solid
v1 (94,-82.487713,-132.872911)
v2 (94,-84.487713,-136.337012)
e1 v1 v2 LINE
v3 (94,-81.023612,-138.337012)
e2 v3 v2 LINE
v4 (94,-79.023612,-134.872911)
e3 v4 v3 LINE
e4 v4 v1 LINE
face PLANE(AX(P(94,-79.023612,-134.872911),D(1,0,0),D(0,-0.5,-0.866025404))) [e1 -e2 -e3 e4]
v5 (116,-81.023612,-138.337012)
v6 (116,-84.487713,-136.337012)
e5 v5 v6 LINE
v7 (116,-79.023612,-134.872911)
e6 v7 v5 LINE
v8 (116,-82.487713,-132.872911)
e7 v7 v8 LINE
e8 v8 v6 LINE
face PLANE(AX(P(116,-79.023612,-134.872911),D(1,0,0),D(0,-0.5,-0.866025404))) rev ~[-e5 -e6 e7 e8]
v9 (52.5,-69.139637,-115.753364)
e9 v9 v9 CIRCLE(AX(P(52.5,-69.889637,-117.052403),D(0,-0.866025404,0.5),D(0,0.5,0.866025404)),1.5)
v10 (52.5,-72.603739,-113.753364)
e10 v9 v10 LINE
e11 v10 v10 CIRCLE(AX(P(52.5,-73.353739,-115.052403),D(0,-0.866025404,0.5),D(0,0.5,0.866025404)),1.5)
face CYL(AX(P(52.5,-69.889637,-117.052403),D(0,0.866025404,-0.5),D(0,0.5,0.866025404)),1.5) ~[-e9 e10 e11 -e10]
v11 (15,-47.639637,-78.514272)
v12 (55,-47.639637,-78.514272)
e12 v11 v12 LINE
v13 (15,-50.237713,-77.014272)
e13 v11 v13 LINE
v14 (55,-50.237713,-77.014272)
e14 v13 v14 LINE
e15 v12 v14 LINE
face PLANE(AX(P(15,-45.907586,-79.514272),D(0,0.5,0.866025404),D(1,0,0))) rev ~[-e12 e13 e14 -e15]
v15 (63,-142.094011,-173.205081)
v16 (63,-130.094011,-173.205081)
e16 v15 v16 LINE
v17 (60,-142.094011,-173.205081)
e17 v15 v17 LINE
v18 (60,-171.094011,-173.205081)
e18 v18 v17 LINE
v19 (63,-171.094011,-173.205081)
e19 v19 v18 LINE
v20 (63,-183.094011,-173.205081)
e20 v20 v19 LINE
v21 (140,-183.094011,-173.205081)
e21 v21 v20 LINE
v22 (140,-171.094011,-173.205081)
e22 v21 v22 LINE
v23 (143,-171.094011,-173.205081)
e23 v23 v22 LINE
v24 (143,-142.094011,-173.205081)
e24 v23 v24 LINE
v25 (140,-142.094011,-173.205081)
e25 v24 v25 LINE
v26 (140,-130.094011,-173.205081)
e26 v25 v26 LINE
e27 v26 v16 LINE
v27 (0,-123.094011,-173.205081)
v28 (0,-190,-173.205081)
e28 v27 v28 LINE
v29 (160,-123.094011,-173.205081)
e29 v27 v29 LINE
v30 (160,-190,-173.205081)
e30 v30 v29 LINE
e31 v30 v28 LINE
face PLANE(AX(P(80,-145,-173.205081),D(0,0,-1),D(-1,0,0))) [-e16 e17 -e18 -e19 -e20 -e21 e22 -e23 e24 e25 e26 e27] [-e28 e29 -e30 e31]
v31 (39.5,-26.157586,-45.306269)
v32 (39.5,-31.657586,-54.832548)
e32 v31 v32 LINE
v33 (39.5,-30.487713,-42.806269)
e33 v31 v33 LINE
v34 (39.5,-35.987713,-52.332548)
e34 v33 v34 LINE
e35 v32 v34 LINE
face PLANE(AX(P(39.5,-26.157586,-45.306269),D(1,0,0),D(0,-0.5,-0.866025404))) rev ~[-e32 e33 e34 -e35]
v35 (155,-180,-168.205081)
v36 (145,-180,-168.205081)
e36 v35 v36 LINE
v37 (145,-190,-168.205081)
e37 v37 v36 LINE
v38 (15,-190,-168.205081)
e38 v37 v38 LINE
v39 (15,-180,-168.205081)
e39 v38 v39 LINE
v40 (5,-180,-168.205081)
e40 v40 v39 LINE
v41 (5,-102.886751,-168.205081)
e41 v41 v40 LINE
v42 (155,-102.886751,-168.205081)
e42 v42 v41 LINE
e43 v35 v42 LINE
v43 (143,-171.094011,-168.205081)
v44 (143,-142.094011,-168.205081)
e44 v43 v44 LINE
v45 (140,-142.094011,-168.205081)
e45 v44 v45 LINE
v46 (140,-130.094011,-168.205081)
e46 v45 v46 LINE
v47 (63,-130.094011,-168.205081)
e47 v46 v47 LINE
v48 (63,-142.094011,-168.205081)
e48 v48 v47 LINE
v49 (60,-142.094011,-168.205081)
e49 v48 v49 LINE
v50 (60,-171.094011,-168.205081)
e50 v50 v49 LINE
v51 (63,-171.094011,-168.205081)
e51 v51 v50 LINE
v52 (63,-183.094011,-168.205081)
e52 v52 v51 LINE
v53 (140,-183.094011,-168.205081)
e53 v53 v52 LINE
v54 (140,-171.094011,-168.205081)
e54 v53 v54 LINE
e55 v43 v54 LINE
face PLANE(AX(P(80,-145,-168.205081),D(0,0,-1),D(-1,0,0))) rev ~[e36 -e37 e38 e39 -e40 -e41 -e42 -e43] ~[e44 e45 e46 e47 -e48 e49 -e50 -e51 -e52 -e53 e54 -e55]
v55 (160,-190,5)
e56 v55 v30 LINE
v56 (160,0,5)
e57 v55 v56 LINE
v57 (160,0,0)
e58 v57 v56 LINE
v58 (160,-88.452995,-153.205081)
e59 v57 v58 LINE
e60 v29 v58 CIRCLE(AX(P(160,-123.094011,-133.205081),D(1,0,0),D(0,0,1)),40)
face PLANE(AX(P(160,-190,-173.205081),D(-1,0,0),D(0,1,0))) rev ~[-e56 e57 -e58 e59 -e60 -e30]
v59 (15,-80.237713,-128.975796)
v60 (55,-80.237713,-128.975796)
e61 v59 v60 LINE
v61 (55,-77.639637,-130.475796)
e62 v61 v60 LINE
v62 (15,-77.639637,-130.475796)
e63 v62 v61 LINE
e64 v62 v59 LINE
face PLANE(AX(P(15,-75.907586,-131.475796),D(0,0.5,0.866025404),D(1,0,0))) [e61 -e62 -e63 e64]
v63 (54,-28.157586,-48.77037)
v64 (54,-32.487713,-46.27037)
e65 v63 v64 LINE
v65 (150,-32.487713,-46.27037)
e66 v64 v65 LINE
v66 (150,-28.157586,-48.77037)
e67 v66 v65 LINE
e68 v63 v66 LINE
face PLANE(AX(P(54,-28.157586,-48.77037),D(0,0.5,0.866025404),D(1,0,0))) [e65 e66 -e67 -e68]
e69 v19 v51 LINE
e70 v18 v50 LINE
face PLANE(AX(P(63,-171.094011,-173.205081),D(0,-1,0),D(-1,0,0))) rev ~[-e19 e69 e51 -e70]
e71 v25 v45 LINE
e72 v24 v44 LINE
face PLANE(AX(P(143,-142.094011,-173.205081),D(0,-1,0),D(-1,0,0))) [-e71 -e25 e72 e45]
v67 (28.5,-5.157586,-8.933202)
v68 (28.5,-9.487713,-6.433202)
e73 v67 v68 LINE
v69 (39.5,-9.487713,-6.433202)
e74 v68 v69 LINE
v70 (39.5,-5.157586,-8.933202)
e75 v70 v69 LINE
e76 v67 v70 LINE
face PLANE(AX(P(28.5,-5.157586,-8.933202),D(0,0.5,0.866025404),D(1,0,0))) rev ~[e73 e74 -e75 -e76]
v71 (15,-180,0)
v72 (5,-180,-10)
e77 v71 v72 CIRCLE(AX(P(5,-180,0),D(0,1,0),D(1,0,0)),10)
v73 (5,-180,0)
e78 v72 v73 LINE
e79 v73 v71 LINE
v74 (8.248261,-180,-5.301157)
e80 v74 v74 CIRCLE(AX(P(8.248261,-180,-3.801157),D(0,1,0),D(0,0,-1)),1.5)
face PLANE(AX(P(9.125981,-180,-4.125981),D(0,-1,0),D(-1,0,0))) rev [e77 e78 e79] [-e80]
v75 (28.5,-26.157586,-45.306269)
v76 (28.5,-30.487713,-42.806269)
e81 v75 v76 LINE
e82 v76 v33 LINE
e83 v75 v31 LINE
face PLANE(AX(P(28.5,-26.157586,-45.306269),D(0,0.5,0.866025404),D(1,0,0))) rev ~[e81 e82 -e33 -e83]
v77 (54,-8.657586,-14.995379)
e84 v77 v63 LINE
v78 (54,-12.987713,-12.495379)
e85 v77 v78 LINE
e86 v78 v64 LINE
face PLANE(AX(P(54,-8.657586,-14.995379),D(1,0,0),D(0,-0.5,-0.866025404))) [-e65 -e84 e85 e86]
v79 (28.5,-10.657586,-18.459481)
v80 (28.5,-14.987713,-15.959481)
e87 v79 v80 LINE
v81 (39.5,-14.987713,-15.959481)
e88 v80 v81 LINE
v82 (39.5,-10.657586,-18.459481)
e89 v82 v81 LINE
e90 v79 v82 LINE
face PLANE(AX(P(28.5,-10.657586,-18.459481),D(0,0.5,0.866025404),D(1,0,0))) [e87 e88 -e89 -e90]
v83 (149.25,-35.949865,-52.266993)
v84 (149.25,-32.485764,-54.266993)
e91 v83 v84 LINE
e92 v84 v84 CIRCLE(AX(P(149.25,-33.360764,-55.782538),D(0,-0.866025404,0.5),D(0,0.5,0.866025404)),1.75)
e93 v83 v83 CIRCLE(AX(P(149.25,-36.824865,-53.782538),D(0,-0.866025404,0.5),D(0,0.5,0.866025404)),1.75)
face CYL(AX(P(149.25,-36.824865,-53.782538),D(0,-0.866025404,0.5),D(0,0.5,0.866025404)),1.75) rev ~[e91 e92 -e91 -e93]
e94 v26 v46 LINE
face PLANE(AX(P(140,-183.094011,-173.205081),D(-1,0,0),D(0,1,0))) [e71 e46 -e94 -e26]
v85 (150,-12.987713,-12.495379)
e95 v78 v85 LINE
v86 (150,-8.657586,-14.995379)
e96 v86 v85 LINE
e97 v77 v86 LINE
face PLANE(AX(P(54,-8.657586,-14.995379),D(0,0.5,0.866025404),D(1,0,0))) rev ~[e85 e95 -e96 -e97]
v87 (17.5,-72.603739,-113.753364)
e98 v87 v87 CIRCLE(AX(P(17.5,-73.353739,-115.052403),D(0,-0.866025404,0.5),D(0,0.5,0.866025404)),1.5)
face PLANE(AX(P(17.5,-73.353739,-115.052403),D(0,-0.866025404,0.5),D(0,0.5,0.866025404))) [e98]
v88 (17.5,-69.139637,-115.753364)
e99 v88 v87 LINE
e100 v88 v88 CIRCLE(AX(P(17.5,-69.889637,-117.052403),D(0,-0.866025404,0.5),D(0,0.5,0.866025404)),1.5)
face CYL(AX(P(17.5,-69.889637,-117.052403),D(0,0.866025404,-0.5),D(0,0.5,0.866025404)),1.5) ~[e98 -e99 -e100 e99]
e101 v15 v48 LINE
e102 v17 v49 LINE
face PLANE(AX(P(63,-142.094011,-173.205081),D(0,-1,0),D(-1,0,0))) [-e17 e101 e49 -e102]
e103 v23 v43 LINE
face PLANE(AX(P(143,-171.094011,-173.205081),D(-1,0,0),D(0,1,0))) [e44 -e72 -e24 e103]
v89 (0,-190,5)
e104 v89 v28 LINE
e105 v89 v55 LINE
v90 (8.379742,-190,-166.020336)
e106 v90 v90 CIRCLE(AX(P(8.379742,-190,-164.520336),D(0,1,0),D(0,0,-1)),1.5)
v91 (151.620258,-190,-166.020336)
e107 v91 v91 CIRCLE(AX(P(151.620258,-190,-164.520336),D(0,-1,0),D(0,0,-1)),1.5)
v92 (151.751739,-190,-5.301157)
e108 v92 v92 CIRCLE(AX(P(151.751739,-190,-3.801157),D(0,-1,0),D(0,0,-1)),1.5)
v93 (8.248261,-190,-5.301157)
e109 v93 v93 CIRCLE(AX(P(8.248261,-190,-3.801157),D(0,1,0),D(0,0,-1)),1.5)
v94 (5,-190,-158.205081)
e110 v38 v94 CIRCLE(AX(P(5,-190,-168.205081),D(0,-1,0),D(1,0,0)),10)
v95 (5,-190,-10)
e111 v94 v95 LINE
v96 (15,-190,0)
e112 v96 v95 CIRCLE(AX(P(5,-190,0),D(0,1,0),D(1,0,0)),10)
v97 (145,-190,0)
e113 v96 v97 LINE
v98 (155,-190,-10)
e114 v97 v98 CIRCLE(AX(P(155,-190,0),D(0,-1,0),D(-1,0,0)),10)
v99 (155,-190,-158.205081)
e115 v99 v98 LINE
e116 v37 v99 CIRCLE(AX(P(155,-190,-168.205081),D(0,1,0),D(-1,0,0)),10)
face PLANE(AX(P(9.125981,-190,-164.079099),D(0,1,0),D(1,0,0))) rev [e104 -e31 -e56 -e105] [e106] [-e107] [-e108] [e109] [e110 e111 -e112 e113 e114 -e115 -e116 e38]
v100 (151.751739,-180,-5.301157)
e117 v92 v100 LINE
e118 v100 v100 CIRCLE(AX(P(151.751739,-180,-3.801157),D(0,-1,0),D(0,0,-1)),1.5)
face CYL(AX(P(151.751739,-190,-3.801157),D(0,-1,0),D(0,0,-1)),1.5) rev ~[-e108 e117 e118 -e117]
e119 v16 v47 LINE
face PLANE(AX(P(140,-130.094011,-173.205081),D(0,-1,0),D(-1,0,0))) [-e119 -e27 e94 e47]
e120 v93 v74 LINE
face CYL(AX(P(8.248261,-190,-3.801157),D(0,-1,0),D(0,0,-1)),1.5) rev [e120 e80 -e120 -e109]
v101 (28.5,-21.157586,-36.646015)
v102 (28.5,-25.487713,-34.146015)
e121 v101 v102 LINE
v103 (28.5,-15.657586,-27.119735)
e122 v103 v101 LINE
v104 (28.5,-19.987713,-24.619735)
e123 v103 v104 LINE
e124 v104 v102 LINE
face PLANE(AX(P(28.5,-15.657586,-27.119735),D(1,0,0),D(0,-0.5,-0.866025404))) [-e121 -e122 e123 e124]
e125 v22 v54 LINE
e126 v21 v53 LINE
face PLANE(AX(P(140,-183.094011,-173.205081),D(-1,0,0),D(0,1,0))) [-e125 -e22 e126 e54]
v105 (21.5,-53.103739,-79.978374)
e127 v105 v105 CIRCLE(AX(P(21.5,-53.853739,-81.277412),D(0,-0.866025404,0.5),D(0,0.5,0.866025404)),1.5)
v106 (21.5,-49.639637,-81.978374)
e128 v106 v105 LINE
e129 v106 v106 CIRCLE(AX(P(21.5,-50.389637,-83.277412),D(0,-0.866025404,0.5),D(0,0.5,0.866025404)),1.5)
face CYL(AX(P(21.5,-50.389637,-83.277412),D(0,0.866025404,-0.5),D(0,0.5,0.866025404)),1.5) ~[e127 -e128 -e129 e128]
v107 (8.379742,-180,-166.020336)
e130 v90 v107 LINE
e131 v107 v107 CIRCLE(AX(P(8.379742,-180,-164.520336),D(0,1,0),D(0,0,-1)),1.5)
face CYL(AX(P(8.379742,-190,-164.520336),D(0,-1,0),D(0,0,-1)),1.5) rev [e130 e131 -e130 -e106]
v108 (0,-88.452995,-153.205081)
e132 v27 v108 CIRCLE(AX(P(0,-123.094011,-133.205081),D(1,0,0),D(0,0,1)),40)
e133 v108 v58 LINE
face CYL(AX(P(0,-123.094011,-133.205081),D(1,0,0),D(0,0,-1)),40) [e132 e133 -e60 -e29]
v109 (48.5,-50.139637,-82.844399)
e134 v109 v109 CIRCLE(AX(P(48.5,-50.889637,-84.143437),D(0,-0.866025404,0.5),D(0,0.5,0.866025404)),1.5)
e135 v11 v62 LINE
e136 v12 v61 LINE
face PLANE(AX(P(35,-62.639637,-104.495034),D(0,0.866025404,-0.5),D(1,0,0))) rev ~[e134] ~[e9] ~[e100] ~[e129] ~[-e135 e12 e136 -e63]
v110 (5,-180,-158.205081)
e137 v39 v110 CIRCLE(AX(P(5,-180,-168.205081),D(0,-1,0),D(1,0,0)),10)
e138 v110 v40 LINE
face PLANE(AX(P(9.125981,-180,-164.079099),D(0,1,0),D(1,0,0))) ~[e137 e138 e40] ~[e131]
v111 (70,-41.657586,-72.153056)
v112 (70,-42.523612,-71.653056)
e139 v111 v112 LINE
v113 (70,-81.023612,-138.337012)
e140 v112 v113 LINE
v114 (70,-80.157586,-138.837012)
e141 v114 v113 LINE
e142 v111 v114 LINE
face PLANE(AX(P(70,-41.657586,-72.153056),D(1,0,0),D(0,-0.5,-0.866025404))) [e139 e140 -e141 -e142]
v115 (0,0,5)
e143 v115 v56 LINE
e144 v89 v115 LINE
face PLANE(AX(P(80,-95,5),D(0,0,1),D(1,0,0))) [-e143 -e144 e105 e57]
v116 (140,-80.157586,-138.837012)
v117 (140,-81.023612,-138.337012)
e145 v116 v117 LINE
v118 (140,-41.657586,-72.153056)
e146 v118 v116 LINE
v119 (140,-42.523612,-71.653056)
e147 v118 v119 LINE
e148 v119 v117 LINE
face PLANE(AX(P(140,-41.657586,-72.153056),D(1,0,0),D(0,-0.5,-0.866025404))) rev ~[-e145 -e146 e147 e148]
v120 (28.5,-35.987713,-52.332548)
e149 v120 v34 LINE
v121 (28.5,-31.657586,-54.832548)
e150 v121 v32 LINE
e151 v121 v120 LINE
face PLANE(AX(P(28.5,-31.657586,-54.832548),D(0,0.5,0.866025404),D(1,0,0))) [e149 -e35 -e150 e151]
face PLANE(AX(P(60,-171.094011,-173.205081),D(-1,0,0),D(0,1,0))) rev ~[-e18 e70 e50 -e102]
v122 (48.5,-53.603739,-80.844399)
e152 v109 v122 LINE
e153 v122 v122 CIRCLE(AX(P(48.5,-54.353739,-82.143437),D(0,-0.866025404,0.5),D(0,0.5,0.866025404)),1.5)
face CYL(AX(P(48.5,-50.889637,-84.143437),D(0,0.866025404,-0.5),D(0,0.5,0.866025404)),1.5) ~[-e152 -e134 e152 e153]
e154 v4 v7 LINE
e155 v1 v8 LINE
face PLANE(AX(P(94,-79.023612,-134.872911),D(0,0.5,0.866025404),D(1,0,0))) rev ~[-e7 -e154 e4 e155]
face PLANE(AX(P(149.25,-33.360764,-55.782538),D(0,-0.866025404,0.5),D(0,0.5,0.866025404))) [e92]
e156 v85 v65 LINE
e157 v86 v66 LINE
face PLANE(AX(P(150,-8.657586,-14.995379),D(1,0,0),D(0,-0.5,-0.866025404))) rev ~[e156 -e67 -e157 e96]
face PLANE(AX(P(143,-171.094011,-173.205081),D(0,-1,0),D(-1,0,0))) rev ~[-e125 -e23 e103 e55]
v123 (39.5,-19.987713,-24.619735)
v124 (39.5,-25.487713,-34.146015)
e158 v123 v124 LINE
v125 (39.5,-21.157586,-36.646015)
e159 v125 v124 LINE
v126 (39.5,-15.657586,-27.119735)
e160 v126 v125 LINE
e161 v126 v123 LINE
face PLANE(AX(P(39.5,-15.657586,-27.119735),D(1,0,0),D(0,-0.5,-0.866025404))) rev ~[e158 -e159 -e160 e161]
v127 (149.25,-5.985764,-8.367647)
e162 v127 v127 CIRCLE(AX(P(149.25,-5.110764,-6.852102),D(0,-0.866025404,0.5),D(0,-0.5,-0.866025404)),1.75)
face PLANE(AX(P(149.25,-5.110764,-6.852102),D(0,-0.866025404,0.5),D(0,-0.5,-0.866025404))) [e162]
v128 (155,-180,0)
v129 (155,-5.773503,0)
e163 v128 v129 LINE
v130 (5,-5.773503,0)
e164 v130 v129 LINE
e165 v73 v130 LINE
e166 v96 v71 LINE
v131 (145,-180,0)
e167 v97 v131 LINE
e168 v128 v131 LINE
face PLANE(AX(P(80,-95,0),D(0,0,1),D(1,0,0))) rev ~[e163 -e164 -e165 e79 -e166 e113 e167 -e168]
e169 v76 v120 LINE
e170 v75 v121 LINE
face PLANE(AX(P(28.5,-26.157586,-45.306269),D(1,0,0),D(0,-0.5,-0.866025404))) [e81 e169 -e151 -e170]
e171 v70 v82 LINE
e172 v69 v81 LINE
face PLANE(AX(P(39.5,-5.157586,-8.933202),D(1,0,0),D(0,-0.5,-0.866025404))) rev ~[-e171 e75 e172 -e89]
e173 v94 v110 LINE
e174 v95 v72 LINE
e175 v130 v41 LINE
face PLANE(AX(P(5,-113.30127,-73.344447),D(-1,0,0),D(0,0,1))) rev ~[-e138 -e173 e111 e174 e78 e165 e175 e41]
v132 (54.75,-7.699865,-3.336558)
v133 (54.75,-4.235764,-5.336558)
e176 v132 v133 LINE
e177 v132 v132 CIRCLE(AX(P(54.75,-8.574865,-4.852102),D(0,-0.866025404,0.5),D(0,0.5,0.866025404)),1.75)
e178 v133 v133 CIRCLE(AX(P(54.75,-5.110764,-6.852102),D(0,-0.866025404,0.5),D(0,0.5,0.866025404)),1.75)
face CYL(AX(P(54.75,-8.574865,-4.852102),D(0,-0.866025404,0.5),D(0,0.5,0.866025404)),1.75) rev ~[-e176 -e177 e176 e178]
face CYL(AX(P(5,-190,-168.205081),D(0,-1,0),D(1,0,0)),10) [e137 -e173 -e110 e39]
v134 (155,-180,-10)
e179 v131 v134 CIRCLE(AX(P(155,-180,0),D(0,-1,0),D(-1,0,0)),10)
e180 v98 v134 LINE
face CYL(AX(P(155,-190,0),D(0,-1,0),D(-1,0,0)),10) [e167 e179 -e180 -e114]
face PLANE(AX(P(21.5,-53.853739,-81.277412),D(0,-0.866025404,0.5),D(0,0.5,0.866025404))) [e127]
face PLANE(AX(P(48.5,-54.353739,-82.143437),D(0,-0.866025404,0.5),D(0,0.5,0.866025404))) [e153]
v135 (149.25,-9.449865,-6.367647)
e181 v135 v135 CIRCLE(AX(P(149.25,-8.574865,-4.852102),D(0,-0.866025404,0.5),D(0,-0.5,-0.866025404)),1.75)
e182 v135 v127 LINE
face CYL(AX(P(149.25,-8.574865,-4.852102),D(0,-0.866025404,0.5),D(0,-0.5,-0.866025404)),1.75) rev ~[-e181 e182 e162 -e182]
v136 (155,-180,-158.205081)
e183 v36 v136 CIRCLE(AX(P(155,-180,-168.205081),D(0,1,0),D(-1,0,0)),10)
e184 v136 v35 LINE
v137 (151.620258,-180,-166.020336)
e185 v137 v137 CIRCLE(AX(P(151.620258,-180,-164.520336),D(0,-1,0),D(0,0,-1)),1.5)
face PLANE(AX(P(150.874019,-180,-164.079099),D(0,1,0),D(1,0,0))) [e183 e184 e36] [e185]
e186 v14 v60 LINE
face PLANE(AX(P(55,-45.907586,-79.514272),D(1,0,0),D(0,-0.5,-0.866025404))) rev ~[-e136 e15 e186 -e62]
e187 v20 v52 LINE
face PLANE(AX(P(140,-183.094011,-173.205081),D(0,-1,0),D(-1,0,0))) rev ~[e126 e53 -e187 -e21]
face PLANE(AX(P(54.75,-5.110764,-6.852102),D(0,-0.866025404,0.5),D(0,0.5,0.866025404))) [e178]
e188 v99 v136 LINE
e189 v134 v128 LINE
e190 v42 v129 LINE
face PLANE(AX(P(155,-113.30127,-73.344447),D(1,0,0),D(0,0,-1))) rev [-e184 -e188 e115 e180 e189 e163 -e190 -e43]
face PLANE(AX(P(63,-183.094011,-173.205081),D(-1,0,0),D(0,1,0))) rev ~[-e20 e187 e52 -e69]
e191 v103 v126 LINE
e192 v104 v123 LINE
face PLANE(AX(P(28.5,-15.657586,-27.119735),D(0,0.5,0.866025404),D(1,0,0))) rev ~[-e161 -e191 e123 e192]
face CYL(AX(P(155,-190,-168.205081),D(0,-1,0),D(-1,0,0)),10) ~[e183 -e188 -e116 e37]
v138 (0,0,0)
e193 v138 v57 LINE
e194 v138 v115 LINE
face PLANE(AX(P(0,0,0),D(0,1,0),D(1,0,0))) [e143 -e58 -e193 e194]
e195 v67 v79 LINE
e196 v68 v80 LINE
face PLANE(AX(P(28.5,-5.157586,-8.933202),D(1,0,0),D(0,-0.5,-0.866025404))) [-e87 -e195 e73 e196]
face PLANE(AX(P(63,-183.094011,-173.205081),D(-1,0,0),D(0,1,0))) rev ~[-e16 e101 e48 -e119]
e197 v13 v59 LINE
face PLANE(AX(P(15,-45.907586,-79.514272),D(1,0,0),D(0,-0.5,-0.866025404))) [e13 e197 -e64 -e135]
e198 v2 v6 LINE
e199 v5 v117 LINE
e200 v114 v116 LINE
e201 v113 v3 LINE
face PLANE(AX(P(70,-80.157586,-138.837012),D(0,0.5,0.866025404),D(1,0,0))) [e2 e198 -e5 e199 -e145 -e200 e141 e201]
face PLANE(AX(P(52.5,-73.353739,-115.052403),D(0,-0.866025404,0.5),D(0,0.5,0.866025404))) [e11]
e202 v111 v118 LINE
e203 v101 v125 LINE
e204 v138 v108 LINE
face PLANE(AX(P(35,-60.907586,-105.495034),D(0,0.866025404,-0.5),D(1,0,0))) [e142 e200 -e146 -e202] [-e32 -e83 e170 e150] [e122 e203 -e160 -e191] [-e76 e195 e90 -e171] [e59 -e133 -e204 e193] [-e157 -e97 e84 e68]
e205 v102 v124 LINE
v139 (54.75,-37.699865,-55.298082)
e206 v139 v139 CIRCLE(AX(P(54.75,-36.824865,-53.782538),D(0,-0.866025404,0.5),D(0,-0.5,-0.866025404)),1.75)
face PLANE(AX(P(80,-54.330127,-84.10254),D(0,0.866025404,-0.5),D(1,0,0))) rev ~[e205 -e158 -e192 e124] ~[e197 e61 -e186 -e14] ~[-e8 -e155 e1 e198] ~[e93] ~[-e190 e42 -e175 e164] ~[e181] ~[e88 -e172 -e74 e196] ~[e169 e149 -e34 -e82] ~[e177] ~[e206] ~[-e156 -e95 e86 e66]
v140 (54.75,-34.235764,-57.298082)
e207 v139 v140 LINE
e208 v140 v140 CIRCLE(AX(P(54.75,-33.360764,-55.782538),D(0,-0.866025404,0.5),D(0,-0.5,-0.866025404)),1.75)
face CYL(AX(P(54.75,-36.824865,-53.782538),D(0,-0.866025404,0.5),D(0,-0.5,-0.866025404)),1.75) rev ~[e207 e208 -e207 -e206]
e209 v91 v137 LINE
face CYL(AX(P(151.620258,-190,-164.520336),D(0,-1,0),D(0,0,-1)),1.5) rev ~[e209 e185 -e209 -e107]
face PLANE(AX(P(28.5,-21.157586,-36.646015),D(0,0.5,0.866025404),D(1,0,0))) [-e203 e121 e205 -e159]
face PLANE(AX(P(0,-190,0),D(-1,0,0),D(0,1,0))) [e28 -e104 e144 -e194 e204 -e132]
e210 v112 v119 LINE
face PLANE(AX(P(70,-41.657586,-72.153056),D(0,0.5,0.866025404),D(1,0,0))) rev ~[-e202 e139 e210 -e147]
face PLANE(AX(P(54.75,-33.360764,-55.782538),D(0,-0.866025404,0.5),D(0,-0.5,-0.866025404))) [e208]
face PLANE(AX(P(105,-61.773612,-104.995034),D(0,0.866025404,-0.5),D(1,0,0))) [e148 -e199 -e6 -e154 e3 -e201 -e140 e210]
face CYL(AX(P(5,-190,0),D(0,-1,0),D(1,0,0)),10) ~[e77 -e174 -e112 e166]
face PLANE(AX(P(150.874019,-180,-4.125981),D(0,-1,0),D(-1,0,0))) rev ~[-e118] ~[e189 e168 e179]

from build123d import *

# Parameters (mm, degrees)
BOSS_EXTRUDE1_DEPTH  = 5
SKETCH2_W            = 160
SKETCH2_H            = 200
BOSS_EXTRUDE2_DEPTH  = 5
SKETCH4_W            = 160
SKETCH4_H            = 190
BOSS_EXTRUDE4_DEPTH  = 5
SKETCH5_W            = 160
SKETCH5_H            = 90
BOSS_EXTRUDE5_DEPTH  = 5
SKETCH6_W            = 96
SKETCH6_H            = 39
SKETCH6_W_2          = 11
SKETCH6_H_2          = 11
CUT_EXTRUDE2_DEPTH   = 5
FILLET1_R            = 40
SKETCH7_W            = 70
SKETCH7_H            = 77
CUT_EXTRUDE3_DEPTH   = 1
SKETCH8_W            = 22
SKETCH8_H            = 4
CUT_EXTRUDE4_DEPTH   = 4
SKETCH9_W            = 40
SKETCH9_H            = 60
CUT_EXTRUDE5_DEPTH   = 5
SKETCH12_W           = 40
SKETCH12_H           = 60
BOSS_EXTRUDE6_DEPTH  = 2
SKETCH14_W           = 77
SKETCH14_H           = 53
CUT_EXTRUDE6_DEPTH   = 5
SKETCH15_W           = 3
SKETCH15_H           = 29
CUT_EXTRUDE7_DEPTH   = 5
SKETCH17_R           = 1.75
CUT_EXTRUDE9_DEPTH   = 4
SKETCH21_R           = 1.5
BOSS_EXTRUDE8_DEPTH  = 4
SKETCH23_R           = 1.5
BOSS_EXTRUDE9_DEPTH  = 10
SKETCH25_R           = 1.5
BOSS_EXTRUDE10_DEPTH = 10


with BuildPart() as part:
    # Sketch1 → Boss-Extrude1 (new body)
    with BuildSketch(Plane(origin=(0, 0, 0), x_dir=(0, 0, -1), z_dir=(1, 0, 0))):
        Polygon((0, 0), (173.205080757, -100), (173.205080757, -190), (0, -190), align=None)
    boss_extrude1 = extrude(amount=BOSS_EXTRUDE1_DEPTH)

    # Sketch2 → Boss-Extrude2 (add)
    with BuildSketch(Plane(origin=(0, 0, 0), x_dir=(1, 0, 0), z_dir=(0, 0.8660254037844382, -0.5000000000000011))):
        with Locations((80, 100)):
            Rectangle(SKETCH2_W, SKETCH2_H)
    extrude(amount=-BOSS_EXTRUDE2_DEPTH)

    # Sketch4 → Boss-Extrude4 (add)
    with BuildSketch(Plane.XY):
        with Locations((80, -95)):
            Rectangle(SKETCH4_W, SKETCH4_H)
    extrude(amount=BOSS_EXTRUDE4_DEPTH)

    # Sketch5 → Boss-Extrude5 (add)
    with BuildSketch(Plane(origin=(0, 0, -173.205080757), x_dir=(-1, 0, 0), z_dir=(0, 0, -1))):
        with Locations((-80, -145)):
            Rectangle(SKETCH5_W, SKETCH5_H)
    extrude(amount=-BOSS_EXTRUDE5_DEPTH)

    # Mirror1: Boss-Extrude1 across plane
    add(boss_extrude1.mirror(Plane.ZY.offset(-80)))

    # Sketch6 → Cut-Extrude2 (cut)
    with BuildSketch(Plane(origin=(0, 0, 0), x_dir=(1, 0, 0), z_dir=(0, 0.8660254037844382, -0.5000000000000011))):
        with Locations((102, 36.815172727)):
            Rectangle(SKETCH6_W, SKETCH6_H)
        with Locations((34, 15.815172727)):
            Rectangle(SKETCH6_W_2, SKETCH6_H_2)
        with Locations((34, 36.815172727)):
            Rectangle(SKETCH6_W_2, SKETCH6_H_2)
        with Locations((34, 57.815172727)):
            Rectangle(SKETCH6_W_2, SKETCH6_H_2)
    extrude(amount=-CUT_EXTRUDE2_DEPTH, mode=Mode.SUBTRACT)

    # Fillet1
    fillet1_edges = [part.edges().sort_by_distance(p)[0] for p in [
        (80, -100, -173.205080757),
    ]]
    fillet(fillet1_edges, radius=FILLET1_R)

    # Sketch7 → Cut-Extrude3 (cut)
    with BuildSketch(Plane(origin=(0, 0, 0), x_dir=(1, 0, 0), z_dir=(0, 0.8660254037844382, -0.5000000000000011))):
        with Locations((105, 121.815172727)):
            Rectangle(SKETCH7_W, SKETCH7_H)
    extrude(amount=-CUT_EXTRUDE3_DEPTH, mode=Mode.SUBTRACT)

    # Sketch8 → Cut-Extrude4 (cut)
    with BuildSketch(Plane(origin=(0, -0.866025403784426, 0.4999999999999943), x_dir=(1, 0, 0), z_dir=(0, 0.8660254037844382, -0.5000000000000011))):
        with Locations((105, 158.315172727)):
            Rectangle(SKETCH8_W, SKETCH8_H)
    extrude(amount=-CUT_EXTRUDE4_DEPTH, mode=Mode.SUBTRACT)

    # Sketch9 → Cut-Extrude5 (cut)
    with BuildSketch(Plane(origin=(0, 0, 0), x_dir=(1, 0, 0), z_dir=(0, 0.8660254037844382, -0.5000000000000011))):
        with Locations((35, 121.815172727)):
            Rectangle(SKETCH9_W, SKETCH9_H)
    extrude(amount=-CUT_EXTRUDE5_DEPTH, mode=Mode.SUBTRACT)

    # Sketch12 → Boss-Extrude6 (add)
    with BuildSketch(Plane(origin=(0, 0, 0), x_dir=(1, 0, 0), z_dir=(0, 0.8660254037844382, -0.5000000000000011))):
        with Locations((35, 121.815172727)):
            Rectangle(SKETCH12_W, SKETCH12_H)
    extrude(amount=-BOSS_EXTRUDE6_DEPTH)

    # Sketch14 → Cut-Extrude6 (cut)
    with BuildSketch(Plane(origin=(0, 0, -173.205080757), x_dir=(-1, 0, 0), z_dir=(0, 0, -1))):
        with Locations((-101.5, -156.594010768)):
            Rectangle(SKETCH14_W, SKETCH14_H)
    extrude(amount=-CUT_EXTRUDE6_DEPTH, mode=Mode.SUBTRACT)

    # Sketch15 → Cut-Extrude7 (cut)
    with BuildSketch(Plane(origin=(0, 0, -173.205080757), x_dir=(-1, 0, 0), z_dir=(0, 0, -1))):
        with Locations((-61.5, -156.594010768)):
            Rectangle(SKETCH15_W, SKETCH15_H)
        with Locations((-141.5, -156.594010768)):
            Rectangle(SKETCH15_W, SKETCH15_H)
    extrude(amount=-CUT_EXTRUDE7_DEPTH, mode=Mode.SUBTRACT)

    # Sketch17 → Cut-Extrude9 (cut)
    with BuildSketch(Plane(origin=(0, -4.330127019, 2.5), x_dir=(-1, 0, 0), z_dir=(0, -0.8660254037844382, 0.500000000000001))):
        with Locations(Location((-54.75, 64.989476433, 0), (0, 0, 90))):
            Circle(SKETCH17_R)
        with Locations(Location((-149.25, 64.989476433, 0), (0, 0, 270))):
            Circle(SKETCH17_R)
        with Locations(Location((-54.75, 8.489476433, 0), (0, 0, 270))):
            Circle(SKETCH17_R)
        with Locations(Location((-149.25, 8.489476433, 0), (0, 0, 90))):
            Circle(SKETCH17_R)
    extrude(amount=-CUT_EXTRUDE9_DEPTH, mode=Mode.SUBTRACT)

    # Sketch21 → Boss-Extrude8 (add)
    with BuildSketch(Plane(origin=(0, -1.732050808, 1), x_dir=(-1, 0, 0), z_dir=(0, -0.8660254037844382, 0.500000000000001))):
        with Locations(Location((-48.5, 98.315172727, 0), (0, 0, 270))):
            Circle(SKETCH21_R)
        with Locations(Location((-21.5, 97.315172727, 0), (0, 0, 270))):
            Circle(SKETCH21_R)
        with Locations(Location((-17.5, 136.315172727, 0), (0, 0, 270))):
            Circle(SKETCH21_R)
        with Locations(Location((-52.5, 136.315172727, 0), (0, 0, 270))):
            Circle(SKETCH21_R)
    extrude(amount=BOSS_EXTRUDE8_DEPTH)

    # Sketch23 → Boss-Extrude9 (add)
    with BuildSketch(Plane(origin=(0, -190, 0), x_dir=(-1, 0, 0), z_dir=(0, -1, 0))):
        with BuildLine():
            Line((-155, 0), (-145, 0))
            ThreePointArc((-145, 0), (-147.928932188, 7.071067812), (-155, 10))
            Line((-155, 10), (-155, 0))
        make_face()
        with Locations(Location((-151.751738587, 3.801157428, 0), (0, 0, 90))):
            Circle(SKETCH23_R, mode=Mode.SUBTRACT)
    boss_extrude9 = extrude(amount=-BOSS_EXTRUDE9_DEPTH)

    # Mirror2: Boss-Extrude9 across plane
    add(boss_extrude9.mirror(Plane.ZY.offset(-80)))

    # Sketch25 → Boss-Extrude10 (add)
    with BuildSketch(Plane(origin=(0, -190, 0), x_dir=(-1, 0, 0), z_dir=(0, -1, 0))):
        with BuildLine():
            Line((-155, 168.205080757), (-145, 168.205080757))
            ThreePointArc((-145, 168.205080757), (-147.928932188, 161.134012945), (-155, 158.205080757))
            Line((-155, 158.205080757), (-155, 168.205080757))
        make_face()
        with Locations(Location((-151.620258089, 164.520335906, 0), (0, 0, 90))):
            Circle(SKETCH25_R, mode=Mode.SUBTRACT)
    boss_extrude10 = extrude(amount=-BOSS_EXTRUDE10_DEPTH)

    # Mirror4: Boss-Extrude10 across plane
    add(boss_extrude10.mirror(Plane.ZY.offset(-80)))


solid = part.part
